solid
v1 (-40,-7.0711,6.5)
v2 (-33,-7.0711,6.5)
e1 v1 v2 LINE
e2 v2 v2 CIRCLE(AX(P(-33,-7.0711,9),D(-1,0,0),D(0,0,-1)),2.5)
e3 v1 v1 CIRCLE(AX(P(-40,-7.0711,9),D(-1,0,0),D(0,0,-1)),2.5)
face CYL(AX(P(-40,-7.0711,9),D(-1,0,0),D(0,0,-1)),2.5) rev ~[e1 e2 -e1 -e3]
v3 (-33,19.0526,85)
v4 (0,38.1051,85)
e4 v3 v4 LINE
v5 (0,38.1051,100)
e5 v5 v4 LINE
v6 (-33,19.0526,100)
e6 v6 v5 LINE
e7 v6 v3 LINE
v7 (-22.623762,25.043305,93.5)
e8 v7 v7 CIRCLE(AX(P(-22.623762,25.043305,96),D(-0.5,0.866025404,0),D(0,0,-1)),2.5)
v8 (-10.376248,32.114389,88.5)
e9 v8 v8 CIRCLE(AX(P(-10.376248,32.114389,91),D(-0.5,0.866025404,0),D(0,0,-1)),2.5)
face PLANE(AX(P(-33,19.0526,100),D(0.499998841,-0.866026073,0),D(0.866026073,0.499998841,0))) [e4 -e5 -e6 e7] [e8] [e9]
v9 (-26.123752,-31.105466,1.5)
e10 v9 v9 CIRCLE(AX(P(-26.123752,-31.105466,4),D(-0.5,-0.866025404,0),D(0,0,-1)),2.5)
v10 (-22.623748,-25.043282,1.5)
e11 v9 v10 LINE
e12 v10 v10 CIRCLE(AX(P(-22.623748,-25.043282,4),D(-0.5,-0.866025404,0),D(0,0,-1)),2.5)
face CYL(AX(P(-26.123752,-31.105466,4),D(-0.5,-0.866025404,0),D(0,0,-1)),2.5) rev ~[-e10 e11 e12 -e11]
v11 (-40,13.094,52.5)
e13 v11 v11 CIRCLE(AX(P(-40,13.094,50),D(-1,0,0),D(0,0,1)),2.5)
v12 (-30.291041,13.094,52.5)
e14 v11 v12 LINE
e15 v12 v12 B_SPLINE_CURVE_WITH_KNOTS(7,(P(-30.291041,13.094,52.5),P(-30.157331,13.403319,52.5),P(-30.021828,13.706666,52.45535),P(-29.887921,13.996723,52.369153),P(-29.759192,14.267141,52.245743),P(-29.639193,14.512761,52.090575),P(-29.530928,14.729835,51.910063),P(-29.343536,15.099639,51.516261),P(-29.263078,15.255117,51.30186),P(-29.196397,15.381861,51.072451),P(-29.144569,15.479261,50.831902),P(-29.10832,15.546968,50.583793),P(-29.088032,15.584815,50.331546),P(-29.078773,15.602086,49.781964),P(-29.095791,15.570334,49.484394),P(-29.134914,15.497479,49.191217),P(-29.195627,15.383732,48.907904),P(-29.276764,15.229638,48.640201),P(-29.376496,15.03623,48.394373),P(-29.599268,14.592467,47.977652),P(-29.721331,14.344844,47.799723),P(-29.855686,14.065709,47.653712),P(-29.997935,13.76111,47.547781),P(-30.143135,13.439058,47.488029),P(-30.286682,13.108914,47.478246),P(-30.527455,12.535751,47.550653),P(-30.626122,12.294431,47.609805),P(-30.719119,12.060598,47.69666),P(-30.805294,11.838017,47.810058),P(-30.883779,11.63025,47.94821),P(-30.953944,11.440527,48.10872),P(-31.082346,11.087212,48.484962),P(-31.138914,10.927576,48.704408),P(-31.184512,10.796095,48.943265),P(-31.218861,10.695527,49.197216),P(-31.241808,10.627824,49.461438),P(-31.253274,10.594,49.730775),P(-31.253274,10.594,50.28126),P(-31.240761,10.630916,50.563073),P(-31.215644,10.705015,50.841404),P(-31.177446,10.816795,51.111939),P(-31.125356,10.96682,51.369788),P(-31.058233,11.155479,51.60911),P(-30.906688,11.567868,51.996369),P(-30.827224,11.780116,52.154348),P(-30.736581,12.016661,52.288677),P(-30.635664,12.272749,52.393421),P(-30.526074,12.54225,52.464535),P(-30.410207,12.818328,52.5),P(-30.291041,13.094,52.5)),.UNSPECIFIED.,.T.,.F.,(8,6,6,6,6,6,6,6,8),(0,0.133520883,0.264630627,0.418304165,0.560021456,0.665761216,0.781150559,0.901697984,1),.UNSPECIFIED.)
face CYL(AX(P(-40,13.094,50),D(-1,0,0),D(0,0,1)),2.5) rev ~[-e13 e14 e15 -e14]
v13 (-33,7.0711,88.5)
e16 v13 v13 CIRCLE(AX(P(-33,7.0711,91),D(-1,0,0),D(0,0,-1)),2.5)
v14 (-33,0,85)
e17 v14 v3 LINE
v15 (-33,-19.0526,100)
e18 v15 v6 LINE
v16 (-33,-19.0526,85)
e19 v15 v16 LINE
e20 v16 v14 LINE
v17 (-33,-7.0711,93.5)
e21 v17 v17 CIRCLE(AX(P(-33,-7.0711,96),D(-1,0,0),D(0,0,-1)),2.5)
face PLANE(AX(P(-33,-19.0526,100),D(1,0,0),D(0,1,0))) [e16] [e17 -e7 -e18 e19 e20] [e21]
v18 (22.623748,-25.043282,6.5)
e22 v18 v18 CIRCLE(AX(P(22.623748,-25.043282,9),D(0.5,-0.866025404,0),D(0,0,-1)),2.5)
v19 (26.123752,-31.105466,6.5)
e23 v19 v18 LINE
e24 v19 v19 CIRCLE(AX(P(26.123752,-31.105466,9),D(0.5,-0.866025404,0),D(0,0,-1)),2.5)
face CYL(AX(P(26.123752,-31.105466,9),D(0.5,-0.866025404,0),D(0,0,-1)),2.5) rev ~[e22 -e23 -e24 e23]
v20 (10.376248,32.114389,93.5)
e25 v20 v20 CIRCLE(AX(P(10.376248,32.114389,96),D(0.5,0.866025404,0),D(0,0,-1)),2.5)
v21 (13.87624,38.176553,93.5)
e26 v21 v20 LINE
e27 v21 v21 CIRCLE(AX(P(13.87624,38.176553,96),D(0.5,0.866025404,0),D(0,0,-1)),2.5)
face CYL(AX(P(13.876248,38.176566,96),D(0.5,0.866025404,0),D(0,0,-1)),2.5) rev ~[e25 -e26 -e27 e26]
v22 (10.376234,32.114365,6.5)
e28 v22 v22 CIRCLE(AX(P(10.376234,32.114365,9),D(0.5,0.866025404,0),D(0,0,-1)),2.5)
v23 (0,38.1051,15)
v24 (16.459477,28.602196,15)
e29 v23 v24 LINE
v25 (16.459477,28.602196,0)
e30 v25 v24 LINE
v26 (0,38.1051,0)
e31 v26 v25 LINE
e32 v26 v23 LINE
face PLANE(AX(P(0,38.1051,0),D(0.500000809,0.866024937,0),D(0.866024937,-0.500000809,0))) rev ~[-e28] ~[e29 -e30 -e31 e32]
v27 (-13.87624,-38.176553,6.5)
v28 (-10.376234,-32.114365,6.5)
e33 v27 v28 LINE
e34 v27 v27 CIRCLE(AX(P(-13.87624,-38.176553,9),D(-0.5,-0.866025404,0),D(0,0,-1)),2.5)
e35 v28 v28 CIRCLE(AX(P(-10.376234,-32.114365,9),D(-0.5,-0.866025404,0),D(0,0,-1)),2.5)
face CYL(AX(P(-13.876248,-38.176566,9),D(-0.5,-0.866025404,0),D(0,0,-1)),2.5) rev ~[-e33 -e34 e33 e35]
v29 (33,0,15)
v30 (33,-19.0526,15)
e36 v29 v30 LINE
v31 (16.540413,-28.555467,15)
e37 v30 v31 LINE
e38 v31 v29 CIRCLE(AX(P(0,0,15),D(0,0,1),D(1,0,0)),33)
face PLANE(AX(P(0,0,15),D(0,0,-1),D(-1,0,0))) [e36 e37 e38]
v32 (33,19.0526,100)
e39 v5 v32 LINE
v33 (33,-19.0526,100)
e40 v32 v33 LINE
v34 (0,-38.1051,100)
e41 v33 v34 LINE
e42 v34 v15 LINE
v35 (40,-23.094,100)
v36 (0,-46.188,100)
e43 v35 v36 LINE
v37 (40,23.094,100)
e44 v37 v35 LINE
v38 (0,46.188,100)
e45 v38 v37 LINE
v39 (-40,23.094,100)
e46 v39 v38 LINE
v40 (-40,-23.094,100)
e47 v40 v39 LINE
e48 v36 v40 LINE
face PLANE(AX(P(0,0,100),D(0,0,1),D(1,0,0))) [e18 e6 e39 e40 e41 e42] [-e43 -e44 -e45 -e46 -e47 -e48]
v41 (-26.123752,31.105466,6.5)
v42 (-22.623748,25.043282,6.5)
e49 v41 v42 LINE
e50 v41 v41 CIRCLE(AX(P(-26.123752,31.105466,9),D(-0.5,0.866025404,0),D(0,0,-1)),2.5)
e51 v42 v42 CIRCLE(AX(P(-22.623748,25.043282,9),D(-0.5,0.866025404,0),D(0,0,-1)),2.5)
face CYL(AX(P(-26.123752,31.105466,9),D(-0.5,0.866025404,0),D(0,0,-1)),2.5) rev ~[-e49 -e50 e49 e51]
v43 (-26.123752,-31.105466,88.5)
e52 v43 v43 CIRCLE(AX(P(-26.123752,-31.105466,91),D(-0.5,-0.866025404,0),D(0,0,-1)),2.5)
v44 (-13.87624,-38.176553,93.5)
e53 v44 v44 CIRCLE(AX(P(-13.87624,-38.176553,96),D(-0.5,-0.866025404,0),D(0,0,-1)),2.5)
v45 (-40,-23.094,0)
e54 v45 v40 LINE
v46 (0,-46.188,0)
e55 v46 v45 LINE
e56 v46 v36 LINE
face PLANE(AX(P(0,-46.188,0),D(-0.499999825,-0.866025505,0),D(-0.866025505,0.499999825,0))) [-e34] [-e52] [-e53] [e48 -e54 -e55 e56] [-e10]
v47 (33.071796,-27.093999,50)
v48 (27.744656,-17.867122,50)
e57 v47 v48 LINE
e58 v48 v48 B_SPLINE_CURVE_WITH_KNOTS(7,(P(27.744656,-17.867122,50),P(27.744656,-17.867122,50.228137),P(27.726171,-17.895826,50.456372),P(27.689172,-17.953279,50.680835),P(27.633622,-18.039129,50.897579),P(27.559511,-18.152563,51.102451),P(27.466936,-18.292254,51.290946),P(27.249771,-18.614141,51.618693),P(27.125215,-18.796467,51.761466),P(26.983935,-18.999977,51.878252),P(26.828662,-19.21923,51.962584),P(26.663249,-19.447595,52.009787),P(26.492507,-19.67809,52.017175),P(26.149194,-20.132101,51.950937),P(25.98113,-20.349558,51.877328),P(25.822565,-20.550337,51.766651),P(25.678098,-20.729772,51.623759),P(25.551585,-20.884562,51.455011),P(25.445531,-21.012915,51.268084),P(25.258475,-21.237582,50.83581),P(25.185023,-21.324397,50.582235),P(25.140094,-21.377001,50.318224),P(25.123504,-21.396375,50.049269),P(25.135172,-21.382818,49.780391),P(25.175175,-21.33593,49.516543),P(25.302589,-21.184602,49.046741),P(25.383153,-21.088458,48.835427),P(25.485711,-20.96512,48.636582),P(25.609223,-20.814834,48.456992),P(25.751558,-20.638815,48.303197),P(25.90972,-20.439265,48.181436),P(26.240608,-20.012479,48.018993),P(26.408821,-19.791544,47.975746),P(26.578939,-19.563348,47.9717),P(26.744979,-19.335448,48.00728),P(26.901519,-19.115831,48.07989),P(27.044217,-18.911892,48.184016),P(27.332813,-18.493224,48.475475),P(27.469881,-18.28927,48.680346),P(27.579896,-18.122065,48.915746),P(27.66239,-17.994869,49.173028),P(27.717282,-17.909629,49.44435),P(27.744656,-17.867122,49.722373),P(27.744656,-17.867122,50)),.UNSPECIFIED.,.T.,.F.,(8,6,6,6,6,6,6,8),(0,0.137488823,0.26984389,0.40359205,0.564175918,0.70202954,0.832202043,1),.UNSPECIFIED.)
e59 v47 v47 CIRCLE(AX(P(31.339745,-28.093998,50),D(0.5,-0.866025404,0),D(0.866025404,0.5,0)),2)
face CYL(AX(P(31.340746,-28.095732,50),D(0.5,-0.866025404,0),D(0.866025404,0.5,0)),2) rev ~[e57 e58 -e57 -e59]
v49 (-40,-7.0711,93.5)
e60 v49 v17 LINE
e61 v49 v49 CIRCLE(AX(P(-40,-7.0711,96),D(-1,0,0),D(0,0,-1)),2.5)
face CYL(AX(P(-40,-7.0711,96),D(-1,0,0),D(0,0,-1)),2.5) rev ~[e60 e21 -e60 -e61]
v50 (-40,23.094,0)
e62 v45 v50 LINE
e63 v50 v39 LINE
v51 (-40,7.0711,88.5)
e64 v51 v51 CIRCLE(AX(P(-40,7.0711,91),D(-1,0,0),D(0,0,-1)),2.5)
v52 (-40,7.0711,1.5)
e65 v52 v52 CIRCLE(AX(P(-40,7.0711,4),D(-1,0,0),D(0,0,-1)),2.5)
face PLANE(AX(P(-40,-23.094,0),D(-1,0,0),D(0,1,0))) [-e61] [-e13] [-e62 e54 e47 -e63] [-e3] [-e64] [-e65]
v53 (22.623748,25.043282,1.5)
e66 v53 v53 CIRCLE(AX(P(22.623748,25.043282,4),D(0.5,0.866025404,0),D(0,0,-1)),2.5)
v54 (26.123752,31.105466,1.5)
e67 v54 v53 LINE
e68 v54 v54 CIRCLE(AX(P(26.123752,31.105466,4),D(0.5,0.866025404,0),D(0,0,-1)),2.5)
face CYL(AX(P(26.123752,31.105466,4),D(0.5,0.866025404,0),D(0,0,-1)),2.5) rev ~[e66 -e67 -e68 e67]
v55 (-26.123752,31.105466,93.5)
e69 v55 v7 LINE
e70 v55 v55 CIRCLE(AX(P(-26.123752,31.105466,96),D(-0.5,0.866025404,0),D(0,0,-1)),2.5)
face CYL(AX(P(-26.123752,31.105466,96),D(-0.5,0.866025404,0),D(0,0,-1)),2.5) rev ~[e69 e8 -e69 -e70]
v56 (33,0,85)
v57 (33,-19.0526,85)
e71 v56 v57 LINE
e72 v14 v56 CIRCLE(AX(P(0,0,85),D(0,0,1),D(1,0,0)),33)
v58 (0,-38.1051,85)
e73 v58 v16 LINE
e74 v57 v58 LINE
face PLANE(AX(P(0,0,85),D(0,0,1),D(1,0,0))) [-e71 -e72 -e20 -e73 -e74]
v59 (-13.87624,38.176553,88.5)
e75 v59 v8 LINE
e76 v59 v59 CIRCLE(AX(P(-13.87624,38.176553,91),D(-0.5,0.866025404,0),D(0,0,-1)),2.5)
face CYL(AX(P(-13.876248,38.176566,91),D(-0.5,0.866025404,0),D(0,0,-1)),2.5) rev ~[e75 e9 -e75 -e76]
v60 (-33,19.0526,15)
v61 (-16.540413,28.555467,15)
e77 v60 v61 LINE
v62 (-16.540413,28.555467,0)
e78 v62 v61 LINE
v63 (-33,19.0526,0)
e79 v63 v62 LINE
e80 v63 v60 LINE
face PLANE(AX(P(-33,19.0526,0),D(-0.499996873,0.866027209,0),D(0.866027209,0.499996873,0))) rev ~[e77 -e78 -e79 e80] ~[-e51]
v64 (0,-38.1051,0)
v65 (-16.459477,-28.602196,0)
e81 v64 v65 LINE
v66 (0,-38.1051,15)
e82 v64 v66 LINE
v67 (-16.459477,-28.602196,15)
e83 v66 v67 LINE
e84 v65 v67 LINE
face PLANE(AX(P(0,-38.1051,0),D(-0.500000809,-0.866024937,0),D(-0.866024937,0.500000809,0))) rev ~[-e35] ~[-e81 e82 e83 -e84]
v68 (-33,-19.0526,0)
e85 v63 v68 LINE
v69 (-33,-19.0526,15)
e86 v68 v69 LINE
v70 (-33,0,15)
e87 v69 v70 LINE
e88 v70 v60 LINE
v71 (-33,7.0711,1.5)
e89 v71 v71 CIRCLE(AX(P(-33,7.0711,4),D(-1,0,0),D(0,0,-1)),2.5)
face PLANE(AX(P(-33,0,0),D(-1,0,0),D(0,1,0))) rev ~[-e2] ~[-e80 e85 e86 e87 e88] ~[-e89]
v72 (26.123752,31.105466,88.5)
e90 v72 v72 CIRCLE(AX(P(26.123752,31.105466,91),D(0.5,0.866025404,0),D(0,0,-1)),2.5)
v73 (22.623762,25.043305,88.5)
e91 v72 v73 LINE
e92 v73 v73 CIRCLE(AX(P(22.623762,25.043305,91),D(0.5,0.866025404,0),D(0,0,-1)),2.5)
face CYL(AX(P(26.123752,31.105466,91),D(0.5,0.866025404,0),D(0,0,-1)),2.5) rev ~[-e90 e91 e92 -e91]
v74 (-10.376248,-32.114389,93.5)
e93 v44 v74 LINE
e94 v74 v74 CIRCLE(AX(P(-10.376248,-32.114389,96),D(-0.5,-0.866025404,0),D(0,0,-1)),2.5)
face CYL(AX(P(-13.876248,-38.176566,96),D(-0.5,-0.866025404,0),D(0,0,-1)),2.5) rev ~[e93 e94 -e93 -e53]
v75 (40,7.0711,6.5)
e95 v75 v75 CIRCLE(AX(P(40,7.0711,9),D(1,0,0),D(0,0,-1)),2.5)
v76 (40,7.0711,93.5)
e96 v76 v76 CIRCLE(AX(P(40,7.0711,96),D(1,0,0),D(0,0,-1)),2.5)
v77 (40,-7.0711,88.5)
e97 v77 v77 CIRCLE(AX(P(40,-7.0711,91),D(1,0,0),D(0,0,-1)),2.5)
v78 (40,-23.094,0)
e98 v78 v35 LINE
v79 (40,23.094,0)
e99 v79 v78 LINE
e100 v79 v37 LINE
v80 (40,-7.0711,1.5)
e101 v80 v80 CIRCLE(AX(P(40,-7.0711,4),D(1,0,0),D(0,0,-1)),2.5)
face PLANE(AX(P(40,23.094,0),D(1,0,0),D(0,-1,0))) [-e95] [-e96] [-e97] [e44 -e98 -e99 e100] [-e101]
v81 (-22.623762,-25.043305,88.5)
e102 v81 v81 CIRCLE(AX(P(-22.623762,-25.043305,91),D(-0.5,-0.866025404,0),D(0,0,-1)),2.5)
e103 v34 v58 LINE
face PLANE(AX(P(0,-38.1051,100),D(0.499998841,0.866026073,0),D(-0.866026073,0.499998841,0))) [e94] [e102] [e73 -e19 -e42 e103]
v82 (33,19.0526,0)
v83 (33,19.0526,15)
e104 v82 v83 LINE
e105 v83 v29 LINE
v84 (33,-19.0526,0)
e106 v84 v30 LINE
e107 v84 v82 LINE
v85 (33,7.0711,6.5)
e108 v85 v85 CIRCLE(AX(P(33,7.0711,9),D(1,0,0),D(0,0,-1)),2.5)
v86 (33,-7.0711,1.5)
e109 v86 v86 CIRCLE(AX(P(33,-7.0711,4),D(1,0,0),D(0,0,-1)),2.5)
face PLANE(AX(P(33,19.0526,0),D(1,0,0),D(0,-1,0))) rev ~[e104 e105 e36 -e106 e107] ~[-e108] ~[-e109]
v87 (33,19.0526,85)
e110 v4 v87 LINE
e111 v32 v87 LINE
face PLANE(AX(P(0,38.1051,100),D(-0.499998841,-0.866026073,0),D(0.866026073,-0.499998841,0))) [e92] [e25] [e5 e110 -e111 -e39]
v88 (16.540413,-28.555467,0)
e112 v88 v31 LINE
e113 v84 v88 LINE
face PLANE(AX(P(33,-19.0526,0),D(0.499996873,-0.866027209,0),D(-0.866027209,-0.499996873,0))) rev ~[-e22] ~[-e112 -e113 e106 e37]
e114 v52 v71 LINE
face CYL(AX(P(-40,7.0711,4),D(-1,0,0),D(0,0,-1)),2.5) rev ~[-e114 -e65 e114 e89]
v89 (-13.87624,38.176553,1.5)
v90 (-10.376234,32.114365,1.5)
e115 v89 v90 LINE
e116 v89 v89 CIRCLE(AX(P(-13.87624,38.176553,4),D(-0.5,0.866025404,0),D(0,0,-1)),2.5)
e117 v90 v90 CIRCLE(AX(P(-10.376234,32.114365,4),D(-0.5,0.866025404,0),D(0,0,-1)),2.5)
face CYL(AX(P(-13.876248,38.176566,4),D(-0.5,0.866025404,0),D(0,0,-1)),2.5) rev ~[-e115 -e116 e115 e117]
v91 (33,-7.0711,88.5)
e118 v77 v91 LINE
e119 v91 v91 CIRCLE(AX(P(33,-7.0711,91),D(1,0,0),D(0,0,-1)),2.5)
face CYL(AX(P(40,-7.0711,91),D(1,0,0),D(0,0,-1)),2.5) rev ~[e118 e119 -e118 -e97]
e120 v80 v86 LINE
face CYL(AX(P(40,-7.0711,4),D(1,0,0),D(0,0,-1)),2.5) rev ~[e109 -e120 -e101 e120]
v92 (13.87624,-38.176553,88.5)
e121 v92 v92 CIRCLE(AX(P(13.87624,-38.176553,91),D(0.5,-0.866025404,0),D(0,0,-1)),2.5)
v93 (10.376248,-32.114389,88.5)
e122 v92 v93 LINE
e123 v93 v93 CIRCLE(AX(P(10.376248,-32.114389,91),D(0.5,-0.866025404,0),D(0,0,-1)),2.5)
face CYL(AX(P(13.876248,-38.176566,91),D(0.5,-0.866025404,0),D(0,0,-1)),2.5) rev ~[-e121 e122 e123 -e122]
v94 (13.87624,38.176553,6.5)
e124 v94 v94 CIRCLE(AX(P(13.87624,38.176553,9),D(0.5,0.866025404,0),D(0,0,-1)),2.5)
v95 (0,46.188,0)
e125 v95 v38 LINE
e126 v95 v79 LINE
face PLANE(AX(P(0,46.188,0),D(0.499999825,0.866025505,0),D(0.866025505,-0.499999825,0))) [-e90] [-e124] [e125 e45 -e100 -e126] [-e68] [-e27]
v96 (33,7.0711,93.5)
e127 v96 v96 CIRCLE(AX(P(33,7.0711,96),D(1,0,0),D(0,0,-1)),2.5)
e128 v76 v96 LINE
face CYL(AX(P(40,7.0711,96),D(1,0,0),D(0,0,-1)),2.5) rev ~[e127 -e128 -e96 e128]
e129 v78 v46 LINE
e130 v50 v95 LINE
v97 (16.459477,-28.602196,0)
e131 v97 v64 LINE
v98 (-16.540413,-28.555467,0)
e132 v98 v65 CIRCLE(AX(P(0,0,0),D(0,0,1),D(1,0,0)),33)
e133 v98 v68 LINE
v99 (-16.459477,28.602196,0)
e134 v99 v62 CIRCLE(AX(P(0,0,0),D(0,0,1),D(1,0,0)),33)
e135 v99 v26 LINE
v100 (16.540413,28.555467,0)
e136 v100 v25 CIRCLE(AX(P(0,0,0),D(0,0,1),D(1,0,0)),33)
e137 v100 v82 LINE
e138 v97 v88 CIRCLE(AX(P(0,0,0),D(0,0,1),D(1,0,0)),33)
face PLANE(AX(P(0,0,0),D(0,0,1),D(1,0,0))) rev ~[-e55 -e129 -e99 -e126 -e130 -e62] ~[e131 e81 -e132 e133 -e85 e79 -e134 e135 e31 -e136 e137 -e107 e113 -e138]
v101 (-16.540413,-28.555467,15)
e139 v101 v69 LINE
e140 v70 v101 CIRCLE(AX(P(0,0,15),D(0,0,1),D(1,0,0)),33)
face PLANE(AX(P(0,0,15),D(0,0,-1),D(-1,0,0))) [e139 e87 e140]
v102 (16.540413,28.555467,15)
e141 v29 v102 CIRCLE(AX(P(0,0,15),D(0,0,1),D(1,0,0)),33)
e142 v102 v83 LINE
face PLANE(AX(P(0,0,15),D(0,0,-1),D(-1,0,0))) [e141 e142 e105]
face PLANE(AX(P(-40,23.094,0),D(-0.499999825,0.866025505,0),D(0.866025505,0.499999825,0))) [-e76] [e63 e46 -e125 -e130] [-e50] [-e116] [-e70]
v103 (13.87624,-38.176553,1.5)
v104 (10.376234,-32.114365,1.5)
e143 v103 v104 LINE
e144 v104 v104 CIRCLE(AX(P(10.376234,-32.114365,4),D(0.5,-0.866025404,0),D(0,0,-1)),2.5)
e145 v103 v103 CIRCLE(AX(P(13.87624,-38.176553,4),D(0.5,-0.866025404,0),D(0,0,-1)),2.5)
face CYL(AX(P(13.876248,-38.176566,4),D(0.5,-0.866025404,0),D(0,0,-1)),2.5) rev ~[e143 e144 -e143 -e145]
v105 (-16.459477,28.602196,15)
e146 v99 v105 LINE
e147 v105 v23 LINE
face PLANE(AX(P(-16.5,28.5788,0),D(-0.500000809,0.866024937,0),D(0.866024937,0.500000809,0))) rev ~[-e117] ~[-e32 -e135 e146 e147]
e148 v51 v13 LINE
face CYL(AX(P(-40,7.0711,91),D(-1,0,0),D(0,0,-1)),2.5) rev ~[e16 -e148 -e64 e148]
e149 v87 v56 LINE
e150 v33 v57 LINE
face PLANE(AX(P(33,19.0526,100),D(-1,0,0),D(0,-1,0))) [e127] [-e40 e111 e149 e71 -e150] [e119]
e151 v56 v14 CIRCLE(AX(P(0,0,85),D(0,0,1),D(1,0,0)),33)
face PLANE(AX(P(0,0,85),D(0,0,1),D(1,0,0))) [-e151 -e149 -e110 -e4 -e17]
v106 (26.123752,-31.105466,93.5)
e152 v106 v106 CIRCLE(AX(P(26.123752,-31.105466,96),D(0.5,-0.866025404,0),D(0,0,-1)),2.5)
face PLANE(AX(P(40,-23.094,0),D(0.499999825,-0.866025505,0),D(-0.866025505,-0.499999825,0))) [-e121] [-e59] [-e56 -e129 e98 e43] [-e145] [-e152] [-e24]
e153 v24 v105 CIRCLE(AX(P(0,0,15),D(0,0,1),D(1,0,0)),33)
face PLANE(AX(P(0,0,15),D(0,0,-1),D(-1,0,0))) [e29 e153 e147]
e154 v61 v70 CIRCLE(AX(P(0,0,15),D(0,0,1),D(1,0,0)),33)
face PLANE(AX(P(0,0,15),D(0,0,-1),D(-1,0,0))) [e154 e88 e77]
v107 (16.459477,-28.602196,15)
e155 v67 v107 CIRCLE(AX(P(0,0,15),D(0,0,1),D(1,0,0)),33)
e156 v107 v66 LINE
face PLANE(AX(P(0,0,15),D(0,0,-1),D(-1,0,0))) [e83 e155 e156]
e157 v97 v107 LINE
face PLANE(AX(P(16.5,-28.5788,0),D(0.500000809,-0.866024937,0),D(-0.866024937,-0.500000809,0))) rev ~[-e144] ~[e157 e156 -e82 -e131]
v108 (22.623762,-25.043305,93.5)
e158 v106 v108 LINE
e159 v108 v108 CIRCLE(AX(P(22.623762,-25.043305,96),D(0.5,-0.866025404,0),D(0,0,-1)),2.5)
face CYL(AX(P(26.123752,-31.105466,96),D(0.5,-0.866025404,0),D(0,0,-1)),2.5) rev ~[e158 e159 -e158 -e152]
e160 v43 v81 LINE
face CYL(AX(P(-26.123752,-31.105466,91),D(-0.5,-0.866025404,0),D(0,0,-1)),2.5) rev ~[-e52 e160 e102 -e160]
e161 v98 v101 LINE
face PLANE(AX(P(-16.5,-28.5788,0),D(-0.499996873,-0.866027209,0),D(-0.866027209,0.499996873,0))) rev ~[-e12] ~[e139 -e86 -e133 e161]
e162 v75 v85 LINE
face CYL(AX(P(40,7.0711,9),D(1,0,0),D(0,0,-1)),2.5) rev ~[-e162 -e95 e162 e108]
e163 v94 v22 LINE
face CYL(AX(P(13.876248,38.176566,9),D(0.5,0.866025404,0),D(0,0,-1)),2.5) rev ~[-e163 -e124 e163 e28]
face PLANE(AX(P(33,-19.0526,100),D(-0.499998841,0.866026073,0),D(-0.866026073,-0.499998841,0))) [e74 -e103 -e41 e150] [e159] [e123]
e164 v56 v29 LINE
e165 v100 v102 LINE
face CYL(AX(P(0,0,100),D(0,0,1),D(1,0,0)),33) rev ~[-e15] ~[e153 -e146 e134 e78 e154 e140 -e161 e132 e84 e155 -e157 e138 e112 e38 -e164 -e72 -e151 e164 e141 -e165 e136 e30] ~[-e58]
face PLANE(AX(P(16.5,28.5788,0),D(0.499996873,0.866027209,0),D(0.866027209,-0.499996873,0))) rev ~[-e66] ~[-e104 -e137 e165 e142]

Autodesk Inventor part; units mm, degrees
ref_plane "YZ Plane" through (0, 0, 0) normal (1, 0, 0) x (0, 1, 0)
ref_plane "XZ Plane" through (0, 0, 0) normal (0, 1, 0) x (-1, 0, 0)
ref_plane "XY Plane" through (0, 0, 0) normal (0, 0, 1) x (1, 0, 0)
sketch "Sketch1" plane through (0, 0, 0) normal (0, 0, 1) x (1, 0, 0)
  line L0 (0, 46.188) -> (40, 23.094)
  line L1 (40, 23.094) -> (40, -23.094)
  line L2 (40, -23.094) -> (0, -46.188)
  line L3 (0, -46.188) -> (-40, -23.094)
  line L4 (-40, -23.094) -> (-40, 23.094)
  line L5 (-40, 23.094) -> (0, 46.188)
  line L6 (0, 38.1051) -> (33, 19.0526)
  line L7 (33, 19.0526) -> (33, -19.0526)
  line L8 (33, -19.0526) -> (0, -38.1051)
  line L9 (0, -38.1051) -> (-33, -19.0526)
  line L10 (-33, -19.0526) -> (-33, 19.0526)
  line L11 (-33, 19.0526) -> (0, 38.1051)
  point P0 (0, 0)
  point P1 (0, 0)
  dimension "d1" = 66
  dimension "d36" = 7
extrude "Extrusion1" add sketch "Sketch1" along normal blind 100
sketch "Sketch7" plane through (0, 0, 100) normal (0, 0, 1) x (1, 0, 0)
  circle A0 centre (0, 0) radius 33
  line L0 (-33, 19.0526) -> (0, 38.1051) projected
  line L1 (33, 19.0526) -> (33, -19.0526) projected
  line L2 (33, -19.0526) -> (0, -38.1051) projected
  line L3 (0, -38.1051) -> (-33, -19.0526) projected
  line L4 (-33, -19.0526) -> (-33, 19.0526) projected
  line L5 (-33, 19.0526) -> (0, 38.1051) projected
  line L6 (0, 38.1051) -> (33, 19.0526) projected
  line L7 (40, 23.094) -> (0, 46.188) projected
  line L8 (0, 46.188) -> (-40, 23.094) projected
  line L9 (-40, 23.094) -> (-40, -23.094) projected
  line L10 (-40, -23.094) -> (0, -46.188) projected
  line L11 (0, -46.188) -> (40, -23.094) projected
  line L12 (40, -23.094) -> (40, 23.094) projected
extrude "Extrusion6" add sketch "Sketch7" against normal up to surface (100 mm away) from surface at 0 contours L1 L2 A0 | A0 L6 L1 | A0 L0 L6 | L2 L3 A0 | A0 L4 L0 | L3 L4 A0
sketch "Sketch2" plane through (40, -23.094, 0) normal (1, 0, 0) x (0, 0, -1)
  line L0 (-91, 16.0229) -> (-96, 30.1651) construction
  line L1 (-100, 0) -> (-100, 46.188) projected
  circle A0 centre (-96, 30.1651) radius 2.5
  circle A1 centre (-91, 16.0229) radius 2.5
  line L2 (-4, 16.0229) -> (-9, 30.1651) construction
  circle A2 centre (-9, 30.1651) radius 2.5
  circle A3 centre (-4, 16.0229) radius 2.5
  line L3 (0, 46.188) -> (0, 0) projected
  point P0 (0, 23.094)
  point P1 (-93.5, 23.094)
  point P2 (-100, 23.094)
  point P3 (-6.5, 23.094)
  point P4 (0, 23.094)
  dimension "d4" = 15
  dimension "d6" = 5
  dimension "d7" = 5
  dimension "d28" = 6.5
  dimension "d29" = 5
  dimension "d30" = 15
  dimension "d31" = 5
  dimension "d32" = 5
  dimension "d34" = 5
  dimension "d35" = 6.5
extrude "Extrusion2" cut sketch "Sketch2" against normal blind 30
pattern_circular "Circular Pattern1" count 6 over 360 about axis through (0, 0, -10) along (0, 0, 1) of "Extrusion2"
sketch "Sketch8" plane through (0, 0, 100) normal (0, 0, 1) x (1, 0, 0)
  line L0 (0, 38.1051) -> (33, 19.0526)
  line L1 (33, 19.0526) -> (33, -19.0526)
  line L2 (33, -19.0526) -> (0, -38.1051)
  line L3 (0, -38.1051) -> (-33, -19.0526)
  line L4 (-33, -19.0526) -> (-33, 19.0526)
  line L5 (-33, 19.0526) -> (0, 38.1051)
  point P0 (0, 0)
  point P1 (0, 0)
  point P2 (0, 46.188)
  dimension "d39" = 66
extrude "Extrusion7" cut sketch "Sketch8" against normal blind 15
sketch "Sketch9" plane through (0, 0, 0) normal (0, 0, -1) x (-1, 0, 0)
  arc A0 (16.5, 28.5788) -> (-16.5, 28.5788) centre (0, 0) ccw projected
  line L0 (0, 38.1051) -> (-16.5, 28.5788) projected
  line L1 (16.5, 28.5788) -> (0, 38.1051) projected
  arc A1 (33, 0) -> (16.5, 28.5788) centre (0, 0) ccw projected
  line L2 (33, 19.0526) -> (16.5, 28.5788) projected
  line L3 (33, 0) -> (33, 19.0526) projected
  arc A2 (16.5, -28.5788) -> (33, 0) centre (0, 0) ccw projected
  line L4 (33, -19.0526) -> (33, 0) projected
  line L5 (16.5, -28.5788) -> (33, -19.0526) projected
  arc A3 (-16.5, -28.5788) -> (16.5, -28.5788) centre (0, 0) ccw projected
  line L6 (0, -38.1051) -> (16.5, -28.5788) projected
  line L7 (-16.5, -28.5788) -> (0, -38.1051) projected
  arc A4 (-33, 0) -> (-16.5, -28.5788) centre (0, 0) ccw projected
  line L8 (-33, -19.0526) -> (-16.5, -28.5788) projected
  line L9 (-33, 0) -> (-33, -19.0526) projected
  arc A5 (-16.5, 28.5788) -> (-33, 0) centre (0, 0) ccw projected
  line L10 (-33, 19.0526) -> (-33, 0) projected
  line L11 (-16.5, 28.5788) -> (-33, 19.0526) projected
extrude "Extrusion8" cut sketch "Sketch9" against normal blind 15 contours A0 L0 L1 | L2 L3 A1 | A5 L10 L11 | L4 L5 A2 | A4 L8 L9 | L6 L7 A3
sketch "Sketch10" plane through (40, -23.094, 0) normal (0.5, -0.866, 0) x (0.866, 0.5, 0)
  circle A0 centre (-10, 50) radius 2
  line L0 (0, 0) -> (0, 100) projected
  point P0 (-23.094, 0)
  point P1 (0, 50)
  dimension "d44" = 4
  dimension "d45" = 10
extrude "Extrusion9" cut sketch "Sketch10" against normal blind 15
sketch "Sketch11" plane through (-40, -23.094, 0) normal (-1, 0, 0) x (0, 0, 1)
  circle A0 centre (50, 36.188) radius 2.5
  line L0 (0, 46.188) -> (100, 46.188) projected
  point P0 (0, 23.094)
  point P1 (50, 46.188)
  dimension "d48" = 5
  dimension "d49" = 10
extrude "Extrusion10" cut sketch "Sketch11" against normal blind 15
properties part number "A01" material "ABS Plastic"
